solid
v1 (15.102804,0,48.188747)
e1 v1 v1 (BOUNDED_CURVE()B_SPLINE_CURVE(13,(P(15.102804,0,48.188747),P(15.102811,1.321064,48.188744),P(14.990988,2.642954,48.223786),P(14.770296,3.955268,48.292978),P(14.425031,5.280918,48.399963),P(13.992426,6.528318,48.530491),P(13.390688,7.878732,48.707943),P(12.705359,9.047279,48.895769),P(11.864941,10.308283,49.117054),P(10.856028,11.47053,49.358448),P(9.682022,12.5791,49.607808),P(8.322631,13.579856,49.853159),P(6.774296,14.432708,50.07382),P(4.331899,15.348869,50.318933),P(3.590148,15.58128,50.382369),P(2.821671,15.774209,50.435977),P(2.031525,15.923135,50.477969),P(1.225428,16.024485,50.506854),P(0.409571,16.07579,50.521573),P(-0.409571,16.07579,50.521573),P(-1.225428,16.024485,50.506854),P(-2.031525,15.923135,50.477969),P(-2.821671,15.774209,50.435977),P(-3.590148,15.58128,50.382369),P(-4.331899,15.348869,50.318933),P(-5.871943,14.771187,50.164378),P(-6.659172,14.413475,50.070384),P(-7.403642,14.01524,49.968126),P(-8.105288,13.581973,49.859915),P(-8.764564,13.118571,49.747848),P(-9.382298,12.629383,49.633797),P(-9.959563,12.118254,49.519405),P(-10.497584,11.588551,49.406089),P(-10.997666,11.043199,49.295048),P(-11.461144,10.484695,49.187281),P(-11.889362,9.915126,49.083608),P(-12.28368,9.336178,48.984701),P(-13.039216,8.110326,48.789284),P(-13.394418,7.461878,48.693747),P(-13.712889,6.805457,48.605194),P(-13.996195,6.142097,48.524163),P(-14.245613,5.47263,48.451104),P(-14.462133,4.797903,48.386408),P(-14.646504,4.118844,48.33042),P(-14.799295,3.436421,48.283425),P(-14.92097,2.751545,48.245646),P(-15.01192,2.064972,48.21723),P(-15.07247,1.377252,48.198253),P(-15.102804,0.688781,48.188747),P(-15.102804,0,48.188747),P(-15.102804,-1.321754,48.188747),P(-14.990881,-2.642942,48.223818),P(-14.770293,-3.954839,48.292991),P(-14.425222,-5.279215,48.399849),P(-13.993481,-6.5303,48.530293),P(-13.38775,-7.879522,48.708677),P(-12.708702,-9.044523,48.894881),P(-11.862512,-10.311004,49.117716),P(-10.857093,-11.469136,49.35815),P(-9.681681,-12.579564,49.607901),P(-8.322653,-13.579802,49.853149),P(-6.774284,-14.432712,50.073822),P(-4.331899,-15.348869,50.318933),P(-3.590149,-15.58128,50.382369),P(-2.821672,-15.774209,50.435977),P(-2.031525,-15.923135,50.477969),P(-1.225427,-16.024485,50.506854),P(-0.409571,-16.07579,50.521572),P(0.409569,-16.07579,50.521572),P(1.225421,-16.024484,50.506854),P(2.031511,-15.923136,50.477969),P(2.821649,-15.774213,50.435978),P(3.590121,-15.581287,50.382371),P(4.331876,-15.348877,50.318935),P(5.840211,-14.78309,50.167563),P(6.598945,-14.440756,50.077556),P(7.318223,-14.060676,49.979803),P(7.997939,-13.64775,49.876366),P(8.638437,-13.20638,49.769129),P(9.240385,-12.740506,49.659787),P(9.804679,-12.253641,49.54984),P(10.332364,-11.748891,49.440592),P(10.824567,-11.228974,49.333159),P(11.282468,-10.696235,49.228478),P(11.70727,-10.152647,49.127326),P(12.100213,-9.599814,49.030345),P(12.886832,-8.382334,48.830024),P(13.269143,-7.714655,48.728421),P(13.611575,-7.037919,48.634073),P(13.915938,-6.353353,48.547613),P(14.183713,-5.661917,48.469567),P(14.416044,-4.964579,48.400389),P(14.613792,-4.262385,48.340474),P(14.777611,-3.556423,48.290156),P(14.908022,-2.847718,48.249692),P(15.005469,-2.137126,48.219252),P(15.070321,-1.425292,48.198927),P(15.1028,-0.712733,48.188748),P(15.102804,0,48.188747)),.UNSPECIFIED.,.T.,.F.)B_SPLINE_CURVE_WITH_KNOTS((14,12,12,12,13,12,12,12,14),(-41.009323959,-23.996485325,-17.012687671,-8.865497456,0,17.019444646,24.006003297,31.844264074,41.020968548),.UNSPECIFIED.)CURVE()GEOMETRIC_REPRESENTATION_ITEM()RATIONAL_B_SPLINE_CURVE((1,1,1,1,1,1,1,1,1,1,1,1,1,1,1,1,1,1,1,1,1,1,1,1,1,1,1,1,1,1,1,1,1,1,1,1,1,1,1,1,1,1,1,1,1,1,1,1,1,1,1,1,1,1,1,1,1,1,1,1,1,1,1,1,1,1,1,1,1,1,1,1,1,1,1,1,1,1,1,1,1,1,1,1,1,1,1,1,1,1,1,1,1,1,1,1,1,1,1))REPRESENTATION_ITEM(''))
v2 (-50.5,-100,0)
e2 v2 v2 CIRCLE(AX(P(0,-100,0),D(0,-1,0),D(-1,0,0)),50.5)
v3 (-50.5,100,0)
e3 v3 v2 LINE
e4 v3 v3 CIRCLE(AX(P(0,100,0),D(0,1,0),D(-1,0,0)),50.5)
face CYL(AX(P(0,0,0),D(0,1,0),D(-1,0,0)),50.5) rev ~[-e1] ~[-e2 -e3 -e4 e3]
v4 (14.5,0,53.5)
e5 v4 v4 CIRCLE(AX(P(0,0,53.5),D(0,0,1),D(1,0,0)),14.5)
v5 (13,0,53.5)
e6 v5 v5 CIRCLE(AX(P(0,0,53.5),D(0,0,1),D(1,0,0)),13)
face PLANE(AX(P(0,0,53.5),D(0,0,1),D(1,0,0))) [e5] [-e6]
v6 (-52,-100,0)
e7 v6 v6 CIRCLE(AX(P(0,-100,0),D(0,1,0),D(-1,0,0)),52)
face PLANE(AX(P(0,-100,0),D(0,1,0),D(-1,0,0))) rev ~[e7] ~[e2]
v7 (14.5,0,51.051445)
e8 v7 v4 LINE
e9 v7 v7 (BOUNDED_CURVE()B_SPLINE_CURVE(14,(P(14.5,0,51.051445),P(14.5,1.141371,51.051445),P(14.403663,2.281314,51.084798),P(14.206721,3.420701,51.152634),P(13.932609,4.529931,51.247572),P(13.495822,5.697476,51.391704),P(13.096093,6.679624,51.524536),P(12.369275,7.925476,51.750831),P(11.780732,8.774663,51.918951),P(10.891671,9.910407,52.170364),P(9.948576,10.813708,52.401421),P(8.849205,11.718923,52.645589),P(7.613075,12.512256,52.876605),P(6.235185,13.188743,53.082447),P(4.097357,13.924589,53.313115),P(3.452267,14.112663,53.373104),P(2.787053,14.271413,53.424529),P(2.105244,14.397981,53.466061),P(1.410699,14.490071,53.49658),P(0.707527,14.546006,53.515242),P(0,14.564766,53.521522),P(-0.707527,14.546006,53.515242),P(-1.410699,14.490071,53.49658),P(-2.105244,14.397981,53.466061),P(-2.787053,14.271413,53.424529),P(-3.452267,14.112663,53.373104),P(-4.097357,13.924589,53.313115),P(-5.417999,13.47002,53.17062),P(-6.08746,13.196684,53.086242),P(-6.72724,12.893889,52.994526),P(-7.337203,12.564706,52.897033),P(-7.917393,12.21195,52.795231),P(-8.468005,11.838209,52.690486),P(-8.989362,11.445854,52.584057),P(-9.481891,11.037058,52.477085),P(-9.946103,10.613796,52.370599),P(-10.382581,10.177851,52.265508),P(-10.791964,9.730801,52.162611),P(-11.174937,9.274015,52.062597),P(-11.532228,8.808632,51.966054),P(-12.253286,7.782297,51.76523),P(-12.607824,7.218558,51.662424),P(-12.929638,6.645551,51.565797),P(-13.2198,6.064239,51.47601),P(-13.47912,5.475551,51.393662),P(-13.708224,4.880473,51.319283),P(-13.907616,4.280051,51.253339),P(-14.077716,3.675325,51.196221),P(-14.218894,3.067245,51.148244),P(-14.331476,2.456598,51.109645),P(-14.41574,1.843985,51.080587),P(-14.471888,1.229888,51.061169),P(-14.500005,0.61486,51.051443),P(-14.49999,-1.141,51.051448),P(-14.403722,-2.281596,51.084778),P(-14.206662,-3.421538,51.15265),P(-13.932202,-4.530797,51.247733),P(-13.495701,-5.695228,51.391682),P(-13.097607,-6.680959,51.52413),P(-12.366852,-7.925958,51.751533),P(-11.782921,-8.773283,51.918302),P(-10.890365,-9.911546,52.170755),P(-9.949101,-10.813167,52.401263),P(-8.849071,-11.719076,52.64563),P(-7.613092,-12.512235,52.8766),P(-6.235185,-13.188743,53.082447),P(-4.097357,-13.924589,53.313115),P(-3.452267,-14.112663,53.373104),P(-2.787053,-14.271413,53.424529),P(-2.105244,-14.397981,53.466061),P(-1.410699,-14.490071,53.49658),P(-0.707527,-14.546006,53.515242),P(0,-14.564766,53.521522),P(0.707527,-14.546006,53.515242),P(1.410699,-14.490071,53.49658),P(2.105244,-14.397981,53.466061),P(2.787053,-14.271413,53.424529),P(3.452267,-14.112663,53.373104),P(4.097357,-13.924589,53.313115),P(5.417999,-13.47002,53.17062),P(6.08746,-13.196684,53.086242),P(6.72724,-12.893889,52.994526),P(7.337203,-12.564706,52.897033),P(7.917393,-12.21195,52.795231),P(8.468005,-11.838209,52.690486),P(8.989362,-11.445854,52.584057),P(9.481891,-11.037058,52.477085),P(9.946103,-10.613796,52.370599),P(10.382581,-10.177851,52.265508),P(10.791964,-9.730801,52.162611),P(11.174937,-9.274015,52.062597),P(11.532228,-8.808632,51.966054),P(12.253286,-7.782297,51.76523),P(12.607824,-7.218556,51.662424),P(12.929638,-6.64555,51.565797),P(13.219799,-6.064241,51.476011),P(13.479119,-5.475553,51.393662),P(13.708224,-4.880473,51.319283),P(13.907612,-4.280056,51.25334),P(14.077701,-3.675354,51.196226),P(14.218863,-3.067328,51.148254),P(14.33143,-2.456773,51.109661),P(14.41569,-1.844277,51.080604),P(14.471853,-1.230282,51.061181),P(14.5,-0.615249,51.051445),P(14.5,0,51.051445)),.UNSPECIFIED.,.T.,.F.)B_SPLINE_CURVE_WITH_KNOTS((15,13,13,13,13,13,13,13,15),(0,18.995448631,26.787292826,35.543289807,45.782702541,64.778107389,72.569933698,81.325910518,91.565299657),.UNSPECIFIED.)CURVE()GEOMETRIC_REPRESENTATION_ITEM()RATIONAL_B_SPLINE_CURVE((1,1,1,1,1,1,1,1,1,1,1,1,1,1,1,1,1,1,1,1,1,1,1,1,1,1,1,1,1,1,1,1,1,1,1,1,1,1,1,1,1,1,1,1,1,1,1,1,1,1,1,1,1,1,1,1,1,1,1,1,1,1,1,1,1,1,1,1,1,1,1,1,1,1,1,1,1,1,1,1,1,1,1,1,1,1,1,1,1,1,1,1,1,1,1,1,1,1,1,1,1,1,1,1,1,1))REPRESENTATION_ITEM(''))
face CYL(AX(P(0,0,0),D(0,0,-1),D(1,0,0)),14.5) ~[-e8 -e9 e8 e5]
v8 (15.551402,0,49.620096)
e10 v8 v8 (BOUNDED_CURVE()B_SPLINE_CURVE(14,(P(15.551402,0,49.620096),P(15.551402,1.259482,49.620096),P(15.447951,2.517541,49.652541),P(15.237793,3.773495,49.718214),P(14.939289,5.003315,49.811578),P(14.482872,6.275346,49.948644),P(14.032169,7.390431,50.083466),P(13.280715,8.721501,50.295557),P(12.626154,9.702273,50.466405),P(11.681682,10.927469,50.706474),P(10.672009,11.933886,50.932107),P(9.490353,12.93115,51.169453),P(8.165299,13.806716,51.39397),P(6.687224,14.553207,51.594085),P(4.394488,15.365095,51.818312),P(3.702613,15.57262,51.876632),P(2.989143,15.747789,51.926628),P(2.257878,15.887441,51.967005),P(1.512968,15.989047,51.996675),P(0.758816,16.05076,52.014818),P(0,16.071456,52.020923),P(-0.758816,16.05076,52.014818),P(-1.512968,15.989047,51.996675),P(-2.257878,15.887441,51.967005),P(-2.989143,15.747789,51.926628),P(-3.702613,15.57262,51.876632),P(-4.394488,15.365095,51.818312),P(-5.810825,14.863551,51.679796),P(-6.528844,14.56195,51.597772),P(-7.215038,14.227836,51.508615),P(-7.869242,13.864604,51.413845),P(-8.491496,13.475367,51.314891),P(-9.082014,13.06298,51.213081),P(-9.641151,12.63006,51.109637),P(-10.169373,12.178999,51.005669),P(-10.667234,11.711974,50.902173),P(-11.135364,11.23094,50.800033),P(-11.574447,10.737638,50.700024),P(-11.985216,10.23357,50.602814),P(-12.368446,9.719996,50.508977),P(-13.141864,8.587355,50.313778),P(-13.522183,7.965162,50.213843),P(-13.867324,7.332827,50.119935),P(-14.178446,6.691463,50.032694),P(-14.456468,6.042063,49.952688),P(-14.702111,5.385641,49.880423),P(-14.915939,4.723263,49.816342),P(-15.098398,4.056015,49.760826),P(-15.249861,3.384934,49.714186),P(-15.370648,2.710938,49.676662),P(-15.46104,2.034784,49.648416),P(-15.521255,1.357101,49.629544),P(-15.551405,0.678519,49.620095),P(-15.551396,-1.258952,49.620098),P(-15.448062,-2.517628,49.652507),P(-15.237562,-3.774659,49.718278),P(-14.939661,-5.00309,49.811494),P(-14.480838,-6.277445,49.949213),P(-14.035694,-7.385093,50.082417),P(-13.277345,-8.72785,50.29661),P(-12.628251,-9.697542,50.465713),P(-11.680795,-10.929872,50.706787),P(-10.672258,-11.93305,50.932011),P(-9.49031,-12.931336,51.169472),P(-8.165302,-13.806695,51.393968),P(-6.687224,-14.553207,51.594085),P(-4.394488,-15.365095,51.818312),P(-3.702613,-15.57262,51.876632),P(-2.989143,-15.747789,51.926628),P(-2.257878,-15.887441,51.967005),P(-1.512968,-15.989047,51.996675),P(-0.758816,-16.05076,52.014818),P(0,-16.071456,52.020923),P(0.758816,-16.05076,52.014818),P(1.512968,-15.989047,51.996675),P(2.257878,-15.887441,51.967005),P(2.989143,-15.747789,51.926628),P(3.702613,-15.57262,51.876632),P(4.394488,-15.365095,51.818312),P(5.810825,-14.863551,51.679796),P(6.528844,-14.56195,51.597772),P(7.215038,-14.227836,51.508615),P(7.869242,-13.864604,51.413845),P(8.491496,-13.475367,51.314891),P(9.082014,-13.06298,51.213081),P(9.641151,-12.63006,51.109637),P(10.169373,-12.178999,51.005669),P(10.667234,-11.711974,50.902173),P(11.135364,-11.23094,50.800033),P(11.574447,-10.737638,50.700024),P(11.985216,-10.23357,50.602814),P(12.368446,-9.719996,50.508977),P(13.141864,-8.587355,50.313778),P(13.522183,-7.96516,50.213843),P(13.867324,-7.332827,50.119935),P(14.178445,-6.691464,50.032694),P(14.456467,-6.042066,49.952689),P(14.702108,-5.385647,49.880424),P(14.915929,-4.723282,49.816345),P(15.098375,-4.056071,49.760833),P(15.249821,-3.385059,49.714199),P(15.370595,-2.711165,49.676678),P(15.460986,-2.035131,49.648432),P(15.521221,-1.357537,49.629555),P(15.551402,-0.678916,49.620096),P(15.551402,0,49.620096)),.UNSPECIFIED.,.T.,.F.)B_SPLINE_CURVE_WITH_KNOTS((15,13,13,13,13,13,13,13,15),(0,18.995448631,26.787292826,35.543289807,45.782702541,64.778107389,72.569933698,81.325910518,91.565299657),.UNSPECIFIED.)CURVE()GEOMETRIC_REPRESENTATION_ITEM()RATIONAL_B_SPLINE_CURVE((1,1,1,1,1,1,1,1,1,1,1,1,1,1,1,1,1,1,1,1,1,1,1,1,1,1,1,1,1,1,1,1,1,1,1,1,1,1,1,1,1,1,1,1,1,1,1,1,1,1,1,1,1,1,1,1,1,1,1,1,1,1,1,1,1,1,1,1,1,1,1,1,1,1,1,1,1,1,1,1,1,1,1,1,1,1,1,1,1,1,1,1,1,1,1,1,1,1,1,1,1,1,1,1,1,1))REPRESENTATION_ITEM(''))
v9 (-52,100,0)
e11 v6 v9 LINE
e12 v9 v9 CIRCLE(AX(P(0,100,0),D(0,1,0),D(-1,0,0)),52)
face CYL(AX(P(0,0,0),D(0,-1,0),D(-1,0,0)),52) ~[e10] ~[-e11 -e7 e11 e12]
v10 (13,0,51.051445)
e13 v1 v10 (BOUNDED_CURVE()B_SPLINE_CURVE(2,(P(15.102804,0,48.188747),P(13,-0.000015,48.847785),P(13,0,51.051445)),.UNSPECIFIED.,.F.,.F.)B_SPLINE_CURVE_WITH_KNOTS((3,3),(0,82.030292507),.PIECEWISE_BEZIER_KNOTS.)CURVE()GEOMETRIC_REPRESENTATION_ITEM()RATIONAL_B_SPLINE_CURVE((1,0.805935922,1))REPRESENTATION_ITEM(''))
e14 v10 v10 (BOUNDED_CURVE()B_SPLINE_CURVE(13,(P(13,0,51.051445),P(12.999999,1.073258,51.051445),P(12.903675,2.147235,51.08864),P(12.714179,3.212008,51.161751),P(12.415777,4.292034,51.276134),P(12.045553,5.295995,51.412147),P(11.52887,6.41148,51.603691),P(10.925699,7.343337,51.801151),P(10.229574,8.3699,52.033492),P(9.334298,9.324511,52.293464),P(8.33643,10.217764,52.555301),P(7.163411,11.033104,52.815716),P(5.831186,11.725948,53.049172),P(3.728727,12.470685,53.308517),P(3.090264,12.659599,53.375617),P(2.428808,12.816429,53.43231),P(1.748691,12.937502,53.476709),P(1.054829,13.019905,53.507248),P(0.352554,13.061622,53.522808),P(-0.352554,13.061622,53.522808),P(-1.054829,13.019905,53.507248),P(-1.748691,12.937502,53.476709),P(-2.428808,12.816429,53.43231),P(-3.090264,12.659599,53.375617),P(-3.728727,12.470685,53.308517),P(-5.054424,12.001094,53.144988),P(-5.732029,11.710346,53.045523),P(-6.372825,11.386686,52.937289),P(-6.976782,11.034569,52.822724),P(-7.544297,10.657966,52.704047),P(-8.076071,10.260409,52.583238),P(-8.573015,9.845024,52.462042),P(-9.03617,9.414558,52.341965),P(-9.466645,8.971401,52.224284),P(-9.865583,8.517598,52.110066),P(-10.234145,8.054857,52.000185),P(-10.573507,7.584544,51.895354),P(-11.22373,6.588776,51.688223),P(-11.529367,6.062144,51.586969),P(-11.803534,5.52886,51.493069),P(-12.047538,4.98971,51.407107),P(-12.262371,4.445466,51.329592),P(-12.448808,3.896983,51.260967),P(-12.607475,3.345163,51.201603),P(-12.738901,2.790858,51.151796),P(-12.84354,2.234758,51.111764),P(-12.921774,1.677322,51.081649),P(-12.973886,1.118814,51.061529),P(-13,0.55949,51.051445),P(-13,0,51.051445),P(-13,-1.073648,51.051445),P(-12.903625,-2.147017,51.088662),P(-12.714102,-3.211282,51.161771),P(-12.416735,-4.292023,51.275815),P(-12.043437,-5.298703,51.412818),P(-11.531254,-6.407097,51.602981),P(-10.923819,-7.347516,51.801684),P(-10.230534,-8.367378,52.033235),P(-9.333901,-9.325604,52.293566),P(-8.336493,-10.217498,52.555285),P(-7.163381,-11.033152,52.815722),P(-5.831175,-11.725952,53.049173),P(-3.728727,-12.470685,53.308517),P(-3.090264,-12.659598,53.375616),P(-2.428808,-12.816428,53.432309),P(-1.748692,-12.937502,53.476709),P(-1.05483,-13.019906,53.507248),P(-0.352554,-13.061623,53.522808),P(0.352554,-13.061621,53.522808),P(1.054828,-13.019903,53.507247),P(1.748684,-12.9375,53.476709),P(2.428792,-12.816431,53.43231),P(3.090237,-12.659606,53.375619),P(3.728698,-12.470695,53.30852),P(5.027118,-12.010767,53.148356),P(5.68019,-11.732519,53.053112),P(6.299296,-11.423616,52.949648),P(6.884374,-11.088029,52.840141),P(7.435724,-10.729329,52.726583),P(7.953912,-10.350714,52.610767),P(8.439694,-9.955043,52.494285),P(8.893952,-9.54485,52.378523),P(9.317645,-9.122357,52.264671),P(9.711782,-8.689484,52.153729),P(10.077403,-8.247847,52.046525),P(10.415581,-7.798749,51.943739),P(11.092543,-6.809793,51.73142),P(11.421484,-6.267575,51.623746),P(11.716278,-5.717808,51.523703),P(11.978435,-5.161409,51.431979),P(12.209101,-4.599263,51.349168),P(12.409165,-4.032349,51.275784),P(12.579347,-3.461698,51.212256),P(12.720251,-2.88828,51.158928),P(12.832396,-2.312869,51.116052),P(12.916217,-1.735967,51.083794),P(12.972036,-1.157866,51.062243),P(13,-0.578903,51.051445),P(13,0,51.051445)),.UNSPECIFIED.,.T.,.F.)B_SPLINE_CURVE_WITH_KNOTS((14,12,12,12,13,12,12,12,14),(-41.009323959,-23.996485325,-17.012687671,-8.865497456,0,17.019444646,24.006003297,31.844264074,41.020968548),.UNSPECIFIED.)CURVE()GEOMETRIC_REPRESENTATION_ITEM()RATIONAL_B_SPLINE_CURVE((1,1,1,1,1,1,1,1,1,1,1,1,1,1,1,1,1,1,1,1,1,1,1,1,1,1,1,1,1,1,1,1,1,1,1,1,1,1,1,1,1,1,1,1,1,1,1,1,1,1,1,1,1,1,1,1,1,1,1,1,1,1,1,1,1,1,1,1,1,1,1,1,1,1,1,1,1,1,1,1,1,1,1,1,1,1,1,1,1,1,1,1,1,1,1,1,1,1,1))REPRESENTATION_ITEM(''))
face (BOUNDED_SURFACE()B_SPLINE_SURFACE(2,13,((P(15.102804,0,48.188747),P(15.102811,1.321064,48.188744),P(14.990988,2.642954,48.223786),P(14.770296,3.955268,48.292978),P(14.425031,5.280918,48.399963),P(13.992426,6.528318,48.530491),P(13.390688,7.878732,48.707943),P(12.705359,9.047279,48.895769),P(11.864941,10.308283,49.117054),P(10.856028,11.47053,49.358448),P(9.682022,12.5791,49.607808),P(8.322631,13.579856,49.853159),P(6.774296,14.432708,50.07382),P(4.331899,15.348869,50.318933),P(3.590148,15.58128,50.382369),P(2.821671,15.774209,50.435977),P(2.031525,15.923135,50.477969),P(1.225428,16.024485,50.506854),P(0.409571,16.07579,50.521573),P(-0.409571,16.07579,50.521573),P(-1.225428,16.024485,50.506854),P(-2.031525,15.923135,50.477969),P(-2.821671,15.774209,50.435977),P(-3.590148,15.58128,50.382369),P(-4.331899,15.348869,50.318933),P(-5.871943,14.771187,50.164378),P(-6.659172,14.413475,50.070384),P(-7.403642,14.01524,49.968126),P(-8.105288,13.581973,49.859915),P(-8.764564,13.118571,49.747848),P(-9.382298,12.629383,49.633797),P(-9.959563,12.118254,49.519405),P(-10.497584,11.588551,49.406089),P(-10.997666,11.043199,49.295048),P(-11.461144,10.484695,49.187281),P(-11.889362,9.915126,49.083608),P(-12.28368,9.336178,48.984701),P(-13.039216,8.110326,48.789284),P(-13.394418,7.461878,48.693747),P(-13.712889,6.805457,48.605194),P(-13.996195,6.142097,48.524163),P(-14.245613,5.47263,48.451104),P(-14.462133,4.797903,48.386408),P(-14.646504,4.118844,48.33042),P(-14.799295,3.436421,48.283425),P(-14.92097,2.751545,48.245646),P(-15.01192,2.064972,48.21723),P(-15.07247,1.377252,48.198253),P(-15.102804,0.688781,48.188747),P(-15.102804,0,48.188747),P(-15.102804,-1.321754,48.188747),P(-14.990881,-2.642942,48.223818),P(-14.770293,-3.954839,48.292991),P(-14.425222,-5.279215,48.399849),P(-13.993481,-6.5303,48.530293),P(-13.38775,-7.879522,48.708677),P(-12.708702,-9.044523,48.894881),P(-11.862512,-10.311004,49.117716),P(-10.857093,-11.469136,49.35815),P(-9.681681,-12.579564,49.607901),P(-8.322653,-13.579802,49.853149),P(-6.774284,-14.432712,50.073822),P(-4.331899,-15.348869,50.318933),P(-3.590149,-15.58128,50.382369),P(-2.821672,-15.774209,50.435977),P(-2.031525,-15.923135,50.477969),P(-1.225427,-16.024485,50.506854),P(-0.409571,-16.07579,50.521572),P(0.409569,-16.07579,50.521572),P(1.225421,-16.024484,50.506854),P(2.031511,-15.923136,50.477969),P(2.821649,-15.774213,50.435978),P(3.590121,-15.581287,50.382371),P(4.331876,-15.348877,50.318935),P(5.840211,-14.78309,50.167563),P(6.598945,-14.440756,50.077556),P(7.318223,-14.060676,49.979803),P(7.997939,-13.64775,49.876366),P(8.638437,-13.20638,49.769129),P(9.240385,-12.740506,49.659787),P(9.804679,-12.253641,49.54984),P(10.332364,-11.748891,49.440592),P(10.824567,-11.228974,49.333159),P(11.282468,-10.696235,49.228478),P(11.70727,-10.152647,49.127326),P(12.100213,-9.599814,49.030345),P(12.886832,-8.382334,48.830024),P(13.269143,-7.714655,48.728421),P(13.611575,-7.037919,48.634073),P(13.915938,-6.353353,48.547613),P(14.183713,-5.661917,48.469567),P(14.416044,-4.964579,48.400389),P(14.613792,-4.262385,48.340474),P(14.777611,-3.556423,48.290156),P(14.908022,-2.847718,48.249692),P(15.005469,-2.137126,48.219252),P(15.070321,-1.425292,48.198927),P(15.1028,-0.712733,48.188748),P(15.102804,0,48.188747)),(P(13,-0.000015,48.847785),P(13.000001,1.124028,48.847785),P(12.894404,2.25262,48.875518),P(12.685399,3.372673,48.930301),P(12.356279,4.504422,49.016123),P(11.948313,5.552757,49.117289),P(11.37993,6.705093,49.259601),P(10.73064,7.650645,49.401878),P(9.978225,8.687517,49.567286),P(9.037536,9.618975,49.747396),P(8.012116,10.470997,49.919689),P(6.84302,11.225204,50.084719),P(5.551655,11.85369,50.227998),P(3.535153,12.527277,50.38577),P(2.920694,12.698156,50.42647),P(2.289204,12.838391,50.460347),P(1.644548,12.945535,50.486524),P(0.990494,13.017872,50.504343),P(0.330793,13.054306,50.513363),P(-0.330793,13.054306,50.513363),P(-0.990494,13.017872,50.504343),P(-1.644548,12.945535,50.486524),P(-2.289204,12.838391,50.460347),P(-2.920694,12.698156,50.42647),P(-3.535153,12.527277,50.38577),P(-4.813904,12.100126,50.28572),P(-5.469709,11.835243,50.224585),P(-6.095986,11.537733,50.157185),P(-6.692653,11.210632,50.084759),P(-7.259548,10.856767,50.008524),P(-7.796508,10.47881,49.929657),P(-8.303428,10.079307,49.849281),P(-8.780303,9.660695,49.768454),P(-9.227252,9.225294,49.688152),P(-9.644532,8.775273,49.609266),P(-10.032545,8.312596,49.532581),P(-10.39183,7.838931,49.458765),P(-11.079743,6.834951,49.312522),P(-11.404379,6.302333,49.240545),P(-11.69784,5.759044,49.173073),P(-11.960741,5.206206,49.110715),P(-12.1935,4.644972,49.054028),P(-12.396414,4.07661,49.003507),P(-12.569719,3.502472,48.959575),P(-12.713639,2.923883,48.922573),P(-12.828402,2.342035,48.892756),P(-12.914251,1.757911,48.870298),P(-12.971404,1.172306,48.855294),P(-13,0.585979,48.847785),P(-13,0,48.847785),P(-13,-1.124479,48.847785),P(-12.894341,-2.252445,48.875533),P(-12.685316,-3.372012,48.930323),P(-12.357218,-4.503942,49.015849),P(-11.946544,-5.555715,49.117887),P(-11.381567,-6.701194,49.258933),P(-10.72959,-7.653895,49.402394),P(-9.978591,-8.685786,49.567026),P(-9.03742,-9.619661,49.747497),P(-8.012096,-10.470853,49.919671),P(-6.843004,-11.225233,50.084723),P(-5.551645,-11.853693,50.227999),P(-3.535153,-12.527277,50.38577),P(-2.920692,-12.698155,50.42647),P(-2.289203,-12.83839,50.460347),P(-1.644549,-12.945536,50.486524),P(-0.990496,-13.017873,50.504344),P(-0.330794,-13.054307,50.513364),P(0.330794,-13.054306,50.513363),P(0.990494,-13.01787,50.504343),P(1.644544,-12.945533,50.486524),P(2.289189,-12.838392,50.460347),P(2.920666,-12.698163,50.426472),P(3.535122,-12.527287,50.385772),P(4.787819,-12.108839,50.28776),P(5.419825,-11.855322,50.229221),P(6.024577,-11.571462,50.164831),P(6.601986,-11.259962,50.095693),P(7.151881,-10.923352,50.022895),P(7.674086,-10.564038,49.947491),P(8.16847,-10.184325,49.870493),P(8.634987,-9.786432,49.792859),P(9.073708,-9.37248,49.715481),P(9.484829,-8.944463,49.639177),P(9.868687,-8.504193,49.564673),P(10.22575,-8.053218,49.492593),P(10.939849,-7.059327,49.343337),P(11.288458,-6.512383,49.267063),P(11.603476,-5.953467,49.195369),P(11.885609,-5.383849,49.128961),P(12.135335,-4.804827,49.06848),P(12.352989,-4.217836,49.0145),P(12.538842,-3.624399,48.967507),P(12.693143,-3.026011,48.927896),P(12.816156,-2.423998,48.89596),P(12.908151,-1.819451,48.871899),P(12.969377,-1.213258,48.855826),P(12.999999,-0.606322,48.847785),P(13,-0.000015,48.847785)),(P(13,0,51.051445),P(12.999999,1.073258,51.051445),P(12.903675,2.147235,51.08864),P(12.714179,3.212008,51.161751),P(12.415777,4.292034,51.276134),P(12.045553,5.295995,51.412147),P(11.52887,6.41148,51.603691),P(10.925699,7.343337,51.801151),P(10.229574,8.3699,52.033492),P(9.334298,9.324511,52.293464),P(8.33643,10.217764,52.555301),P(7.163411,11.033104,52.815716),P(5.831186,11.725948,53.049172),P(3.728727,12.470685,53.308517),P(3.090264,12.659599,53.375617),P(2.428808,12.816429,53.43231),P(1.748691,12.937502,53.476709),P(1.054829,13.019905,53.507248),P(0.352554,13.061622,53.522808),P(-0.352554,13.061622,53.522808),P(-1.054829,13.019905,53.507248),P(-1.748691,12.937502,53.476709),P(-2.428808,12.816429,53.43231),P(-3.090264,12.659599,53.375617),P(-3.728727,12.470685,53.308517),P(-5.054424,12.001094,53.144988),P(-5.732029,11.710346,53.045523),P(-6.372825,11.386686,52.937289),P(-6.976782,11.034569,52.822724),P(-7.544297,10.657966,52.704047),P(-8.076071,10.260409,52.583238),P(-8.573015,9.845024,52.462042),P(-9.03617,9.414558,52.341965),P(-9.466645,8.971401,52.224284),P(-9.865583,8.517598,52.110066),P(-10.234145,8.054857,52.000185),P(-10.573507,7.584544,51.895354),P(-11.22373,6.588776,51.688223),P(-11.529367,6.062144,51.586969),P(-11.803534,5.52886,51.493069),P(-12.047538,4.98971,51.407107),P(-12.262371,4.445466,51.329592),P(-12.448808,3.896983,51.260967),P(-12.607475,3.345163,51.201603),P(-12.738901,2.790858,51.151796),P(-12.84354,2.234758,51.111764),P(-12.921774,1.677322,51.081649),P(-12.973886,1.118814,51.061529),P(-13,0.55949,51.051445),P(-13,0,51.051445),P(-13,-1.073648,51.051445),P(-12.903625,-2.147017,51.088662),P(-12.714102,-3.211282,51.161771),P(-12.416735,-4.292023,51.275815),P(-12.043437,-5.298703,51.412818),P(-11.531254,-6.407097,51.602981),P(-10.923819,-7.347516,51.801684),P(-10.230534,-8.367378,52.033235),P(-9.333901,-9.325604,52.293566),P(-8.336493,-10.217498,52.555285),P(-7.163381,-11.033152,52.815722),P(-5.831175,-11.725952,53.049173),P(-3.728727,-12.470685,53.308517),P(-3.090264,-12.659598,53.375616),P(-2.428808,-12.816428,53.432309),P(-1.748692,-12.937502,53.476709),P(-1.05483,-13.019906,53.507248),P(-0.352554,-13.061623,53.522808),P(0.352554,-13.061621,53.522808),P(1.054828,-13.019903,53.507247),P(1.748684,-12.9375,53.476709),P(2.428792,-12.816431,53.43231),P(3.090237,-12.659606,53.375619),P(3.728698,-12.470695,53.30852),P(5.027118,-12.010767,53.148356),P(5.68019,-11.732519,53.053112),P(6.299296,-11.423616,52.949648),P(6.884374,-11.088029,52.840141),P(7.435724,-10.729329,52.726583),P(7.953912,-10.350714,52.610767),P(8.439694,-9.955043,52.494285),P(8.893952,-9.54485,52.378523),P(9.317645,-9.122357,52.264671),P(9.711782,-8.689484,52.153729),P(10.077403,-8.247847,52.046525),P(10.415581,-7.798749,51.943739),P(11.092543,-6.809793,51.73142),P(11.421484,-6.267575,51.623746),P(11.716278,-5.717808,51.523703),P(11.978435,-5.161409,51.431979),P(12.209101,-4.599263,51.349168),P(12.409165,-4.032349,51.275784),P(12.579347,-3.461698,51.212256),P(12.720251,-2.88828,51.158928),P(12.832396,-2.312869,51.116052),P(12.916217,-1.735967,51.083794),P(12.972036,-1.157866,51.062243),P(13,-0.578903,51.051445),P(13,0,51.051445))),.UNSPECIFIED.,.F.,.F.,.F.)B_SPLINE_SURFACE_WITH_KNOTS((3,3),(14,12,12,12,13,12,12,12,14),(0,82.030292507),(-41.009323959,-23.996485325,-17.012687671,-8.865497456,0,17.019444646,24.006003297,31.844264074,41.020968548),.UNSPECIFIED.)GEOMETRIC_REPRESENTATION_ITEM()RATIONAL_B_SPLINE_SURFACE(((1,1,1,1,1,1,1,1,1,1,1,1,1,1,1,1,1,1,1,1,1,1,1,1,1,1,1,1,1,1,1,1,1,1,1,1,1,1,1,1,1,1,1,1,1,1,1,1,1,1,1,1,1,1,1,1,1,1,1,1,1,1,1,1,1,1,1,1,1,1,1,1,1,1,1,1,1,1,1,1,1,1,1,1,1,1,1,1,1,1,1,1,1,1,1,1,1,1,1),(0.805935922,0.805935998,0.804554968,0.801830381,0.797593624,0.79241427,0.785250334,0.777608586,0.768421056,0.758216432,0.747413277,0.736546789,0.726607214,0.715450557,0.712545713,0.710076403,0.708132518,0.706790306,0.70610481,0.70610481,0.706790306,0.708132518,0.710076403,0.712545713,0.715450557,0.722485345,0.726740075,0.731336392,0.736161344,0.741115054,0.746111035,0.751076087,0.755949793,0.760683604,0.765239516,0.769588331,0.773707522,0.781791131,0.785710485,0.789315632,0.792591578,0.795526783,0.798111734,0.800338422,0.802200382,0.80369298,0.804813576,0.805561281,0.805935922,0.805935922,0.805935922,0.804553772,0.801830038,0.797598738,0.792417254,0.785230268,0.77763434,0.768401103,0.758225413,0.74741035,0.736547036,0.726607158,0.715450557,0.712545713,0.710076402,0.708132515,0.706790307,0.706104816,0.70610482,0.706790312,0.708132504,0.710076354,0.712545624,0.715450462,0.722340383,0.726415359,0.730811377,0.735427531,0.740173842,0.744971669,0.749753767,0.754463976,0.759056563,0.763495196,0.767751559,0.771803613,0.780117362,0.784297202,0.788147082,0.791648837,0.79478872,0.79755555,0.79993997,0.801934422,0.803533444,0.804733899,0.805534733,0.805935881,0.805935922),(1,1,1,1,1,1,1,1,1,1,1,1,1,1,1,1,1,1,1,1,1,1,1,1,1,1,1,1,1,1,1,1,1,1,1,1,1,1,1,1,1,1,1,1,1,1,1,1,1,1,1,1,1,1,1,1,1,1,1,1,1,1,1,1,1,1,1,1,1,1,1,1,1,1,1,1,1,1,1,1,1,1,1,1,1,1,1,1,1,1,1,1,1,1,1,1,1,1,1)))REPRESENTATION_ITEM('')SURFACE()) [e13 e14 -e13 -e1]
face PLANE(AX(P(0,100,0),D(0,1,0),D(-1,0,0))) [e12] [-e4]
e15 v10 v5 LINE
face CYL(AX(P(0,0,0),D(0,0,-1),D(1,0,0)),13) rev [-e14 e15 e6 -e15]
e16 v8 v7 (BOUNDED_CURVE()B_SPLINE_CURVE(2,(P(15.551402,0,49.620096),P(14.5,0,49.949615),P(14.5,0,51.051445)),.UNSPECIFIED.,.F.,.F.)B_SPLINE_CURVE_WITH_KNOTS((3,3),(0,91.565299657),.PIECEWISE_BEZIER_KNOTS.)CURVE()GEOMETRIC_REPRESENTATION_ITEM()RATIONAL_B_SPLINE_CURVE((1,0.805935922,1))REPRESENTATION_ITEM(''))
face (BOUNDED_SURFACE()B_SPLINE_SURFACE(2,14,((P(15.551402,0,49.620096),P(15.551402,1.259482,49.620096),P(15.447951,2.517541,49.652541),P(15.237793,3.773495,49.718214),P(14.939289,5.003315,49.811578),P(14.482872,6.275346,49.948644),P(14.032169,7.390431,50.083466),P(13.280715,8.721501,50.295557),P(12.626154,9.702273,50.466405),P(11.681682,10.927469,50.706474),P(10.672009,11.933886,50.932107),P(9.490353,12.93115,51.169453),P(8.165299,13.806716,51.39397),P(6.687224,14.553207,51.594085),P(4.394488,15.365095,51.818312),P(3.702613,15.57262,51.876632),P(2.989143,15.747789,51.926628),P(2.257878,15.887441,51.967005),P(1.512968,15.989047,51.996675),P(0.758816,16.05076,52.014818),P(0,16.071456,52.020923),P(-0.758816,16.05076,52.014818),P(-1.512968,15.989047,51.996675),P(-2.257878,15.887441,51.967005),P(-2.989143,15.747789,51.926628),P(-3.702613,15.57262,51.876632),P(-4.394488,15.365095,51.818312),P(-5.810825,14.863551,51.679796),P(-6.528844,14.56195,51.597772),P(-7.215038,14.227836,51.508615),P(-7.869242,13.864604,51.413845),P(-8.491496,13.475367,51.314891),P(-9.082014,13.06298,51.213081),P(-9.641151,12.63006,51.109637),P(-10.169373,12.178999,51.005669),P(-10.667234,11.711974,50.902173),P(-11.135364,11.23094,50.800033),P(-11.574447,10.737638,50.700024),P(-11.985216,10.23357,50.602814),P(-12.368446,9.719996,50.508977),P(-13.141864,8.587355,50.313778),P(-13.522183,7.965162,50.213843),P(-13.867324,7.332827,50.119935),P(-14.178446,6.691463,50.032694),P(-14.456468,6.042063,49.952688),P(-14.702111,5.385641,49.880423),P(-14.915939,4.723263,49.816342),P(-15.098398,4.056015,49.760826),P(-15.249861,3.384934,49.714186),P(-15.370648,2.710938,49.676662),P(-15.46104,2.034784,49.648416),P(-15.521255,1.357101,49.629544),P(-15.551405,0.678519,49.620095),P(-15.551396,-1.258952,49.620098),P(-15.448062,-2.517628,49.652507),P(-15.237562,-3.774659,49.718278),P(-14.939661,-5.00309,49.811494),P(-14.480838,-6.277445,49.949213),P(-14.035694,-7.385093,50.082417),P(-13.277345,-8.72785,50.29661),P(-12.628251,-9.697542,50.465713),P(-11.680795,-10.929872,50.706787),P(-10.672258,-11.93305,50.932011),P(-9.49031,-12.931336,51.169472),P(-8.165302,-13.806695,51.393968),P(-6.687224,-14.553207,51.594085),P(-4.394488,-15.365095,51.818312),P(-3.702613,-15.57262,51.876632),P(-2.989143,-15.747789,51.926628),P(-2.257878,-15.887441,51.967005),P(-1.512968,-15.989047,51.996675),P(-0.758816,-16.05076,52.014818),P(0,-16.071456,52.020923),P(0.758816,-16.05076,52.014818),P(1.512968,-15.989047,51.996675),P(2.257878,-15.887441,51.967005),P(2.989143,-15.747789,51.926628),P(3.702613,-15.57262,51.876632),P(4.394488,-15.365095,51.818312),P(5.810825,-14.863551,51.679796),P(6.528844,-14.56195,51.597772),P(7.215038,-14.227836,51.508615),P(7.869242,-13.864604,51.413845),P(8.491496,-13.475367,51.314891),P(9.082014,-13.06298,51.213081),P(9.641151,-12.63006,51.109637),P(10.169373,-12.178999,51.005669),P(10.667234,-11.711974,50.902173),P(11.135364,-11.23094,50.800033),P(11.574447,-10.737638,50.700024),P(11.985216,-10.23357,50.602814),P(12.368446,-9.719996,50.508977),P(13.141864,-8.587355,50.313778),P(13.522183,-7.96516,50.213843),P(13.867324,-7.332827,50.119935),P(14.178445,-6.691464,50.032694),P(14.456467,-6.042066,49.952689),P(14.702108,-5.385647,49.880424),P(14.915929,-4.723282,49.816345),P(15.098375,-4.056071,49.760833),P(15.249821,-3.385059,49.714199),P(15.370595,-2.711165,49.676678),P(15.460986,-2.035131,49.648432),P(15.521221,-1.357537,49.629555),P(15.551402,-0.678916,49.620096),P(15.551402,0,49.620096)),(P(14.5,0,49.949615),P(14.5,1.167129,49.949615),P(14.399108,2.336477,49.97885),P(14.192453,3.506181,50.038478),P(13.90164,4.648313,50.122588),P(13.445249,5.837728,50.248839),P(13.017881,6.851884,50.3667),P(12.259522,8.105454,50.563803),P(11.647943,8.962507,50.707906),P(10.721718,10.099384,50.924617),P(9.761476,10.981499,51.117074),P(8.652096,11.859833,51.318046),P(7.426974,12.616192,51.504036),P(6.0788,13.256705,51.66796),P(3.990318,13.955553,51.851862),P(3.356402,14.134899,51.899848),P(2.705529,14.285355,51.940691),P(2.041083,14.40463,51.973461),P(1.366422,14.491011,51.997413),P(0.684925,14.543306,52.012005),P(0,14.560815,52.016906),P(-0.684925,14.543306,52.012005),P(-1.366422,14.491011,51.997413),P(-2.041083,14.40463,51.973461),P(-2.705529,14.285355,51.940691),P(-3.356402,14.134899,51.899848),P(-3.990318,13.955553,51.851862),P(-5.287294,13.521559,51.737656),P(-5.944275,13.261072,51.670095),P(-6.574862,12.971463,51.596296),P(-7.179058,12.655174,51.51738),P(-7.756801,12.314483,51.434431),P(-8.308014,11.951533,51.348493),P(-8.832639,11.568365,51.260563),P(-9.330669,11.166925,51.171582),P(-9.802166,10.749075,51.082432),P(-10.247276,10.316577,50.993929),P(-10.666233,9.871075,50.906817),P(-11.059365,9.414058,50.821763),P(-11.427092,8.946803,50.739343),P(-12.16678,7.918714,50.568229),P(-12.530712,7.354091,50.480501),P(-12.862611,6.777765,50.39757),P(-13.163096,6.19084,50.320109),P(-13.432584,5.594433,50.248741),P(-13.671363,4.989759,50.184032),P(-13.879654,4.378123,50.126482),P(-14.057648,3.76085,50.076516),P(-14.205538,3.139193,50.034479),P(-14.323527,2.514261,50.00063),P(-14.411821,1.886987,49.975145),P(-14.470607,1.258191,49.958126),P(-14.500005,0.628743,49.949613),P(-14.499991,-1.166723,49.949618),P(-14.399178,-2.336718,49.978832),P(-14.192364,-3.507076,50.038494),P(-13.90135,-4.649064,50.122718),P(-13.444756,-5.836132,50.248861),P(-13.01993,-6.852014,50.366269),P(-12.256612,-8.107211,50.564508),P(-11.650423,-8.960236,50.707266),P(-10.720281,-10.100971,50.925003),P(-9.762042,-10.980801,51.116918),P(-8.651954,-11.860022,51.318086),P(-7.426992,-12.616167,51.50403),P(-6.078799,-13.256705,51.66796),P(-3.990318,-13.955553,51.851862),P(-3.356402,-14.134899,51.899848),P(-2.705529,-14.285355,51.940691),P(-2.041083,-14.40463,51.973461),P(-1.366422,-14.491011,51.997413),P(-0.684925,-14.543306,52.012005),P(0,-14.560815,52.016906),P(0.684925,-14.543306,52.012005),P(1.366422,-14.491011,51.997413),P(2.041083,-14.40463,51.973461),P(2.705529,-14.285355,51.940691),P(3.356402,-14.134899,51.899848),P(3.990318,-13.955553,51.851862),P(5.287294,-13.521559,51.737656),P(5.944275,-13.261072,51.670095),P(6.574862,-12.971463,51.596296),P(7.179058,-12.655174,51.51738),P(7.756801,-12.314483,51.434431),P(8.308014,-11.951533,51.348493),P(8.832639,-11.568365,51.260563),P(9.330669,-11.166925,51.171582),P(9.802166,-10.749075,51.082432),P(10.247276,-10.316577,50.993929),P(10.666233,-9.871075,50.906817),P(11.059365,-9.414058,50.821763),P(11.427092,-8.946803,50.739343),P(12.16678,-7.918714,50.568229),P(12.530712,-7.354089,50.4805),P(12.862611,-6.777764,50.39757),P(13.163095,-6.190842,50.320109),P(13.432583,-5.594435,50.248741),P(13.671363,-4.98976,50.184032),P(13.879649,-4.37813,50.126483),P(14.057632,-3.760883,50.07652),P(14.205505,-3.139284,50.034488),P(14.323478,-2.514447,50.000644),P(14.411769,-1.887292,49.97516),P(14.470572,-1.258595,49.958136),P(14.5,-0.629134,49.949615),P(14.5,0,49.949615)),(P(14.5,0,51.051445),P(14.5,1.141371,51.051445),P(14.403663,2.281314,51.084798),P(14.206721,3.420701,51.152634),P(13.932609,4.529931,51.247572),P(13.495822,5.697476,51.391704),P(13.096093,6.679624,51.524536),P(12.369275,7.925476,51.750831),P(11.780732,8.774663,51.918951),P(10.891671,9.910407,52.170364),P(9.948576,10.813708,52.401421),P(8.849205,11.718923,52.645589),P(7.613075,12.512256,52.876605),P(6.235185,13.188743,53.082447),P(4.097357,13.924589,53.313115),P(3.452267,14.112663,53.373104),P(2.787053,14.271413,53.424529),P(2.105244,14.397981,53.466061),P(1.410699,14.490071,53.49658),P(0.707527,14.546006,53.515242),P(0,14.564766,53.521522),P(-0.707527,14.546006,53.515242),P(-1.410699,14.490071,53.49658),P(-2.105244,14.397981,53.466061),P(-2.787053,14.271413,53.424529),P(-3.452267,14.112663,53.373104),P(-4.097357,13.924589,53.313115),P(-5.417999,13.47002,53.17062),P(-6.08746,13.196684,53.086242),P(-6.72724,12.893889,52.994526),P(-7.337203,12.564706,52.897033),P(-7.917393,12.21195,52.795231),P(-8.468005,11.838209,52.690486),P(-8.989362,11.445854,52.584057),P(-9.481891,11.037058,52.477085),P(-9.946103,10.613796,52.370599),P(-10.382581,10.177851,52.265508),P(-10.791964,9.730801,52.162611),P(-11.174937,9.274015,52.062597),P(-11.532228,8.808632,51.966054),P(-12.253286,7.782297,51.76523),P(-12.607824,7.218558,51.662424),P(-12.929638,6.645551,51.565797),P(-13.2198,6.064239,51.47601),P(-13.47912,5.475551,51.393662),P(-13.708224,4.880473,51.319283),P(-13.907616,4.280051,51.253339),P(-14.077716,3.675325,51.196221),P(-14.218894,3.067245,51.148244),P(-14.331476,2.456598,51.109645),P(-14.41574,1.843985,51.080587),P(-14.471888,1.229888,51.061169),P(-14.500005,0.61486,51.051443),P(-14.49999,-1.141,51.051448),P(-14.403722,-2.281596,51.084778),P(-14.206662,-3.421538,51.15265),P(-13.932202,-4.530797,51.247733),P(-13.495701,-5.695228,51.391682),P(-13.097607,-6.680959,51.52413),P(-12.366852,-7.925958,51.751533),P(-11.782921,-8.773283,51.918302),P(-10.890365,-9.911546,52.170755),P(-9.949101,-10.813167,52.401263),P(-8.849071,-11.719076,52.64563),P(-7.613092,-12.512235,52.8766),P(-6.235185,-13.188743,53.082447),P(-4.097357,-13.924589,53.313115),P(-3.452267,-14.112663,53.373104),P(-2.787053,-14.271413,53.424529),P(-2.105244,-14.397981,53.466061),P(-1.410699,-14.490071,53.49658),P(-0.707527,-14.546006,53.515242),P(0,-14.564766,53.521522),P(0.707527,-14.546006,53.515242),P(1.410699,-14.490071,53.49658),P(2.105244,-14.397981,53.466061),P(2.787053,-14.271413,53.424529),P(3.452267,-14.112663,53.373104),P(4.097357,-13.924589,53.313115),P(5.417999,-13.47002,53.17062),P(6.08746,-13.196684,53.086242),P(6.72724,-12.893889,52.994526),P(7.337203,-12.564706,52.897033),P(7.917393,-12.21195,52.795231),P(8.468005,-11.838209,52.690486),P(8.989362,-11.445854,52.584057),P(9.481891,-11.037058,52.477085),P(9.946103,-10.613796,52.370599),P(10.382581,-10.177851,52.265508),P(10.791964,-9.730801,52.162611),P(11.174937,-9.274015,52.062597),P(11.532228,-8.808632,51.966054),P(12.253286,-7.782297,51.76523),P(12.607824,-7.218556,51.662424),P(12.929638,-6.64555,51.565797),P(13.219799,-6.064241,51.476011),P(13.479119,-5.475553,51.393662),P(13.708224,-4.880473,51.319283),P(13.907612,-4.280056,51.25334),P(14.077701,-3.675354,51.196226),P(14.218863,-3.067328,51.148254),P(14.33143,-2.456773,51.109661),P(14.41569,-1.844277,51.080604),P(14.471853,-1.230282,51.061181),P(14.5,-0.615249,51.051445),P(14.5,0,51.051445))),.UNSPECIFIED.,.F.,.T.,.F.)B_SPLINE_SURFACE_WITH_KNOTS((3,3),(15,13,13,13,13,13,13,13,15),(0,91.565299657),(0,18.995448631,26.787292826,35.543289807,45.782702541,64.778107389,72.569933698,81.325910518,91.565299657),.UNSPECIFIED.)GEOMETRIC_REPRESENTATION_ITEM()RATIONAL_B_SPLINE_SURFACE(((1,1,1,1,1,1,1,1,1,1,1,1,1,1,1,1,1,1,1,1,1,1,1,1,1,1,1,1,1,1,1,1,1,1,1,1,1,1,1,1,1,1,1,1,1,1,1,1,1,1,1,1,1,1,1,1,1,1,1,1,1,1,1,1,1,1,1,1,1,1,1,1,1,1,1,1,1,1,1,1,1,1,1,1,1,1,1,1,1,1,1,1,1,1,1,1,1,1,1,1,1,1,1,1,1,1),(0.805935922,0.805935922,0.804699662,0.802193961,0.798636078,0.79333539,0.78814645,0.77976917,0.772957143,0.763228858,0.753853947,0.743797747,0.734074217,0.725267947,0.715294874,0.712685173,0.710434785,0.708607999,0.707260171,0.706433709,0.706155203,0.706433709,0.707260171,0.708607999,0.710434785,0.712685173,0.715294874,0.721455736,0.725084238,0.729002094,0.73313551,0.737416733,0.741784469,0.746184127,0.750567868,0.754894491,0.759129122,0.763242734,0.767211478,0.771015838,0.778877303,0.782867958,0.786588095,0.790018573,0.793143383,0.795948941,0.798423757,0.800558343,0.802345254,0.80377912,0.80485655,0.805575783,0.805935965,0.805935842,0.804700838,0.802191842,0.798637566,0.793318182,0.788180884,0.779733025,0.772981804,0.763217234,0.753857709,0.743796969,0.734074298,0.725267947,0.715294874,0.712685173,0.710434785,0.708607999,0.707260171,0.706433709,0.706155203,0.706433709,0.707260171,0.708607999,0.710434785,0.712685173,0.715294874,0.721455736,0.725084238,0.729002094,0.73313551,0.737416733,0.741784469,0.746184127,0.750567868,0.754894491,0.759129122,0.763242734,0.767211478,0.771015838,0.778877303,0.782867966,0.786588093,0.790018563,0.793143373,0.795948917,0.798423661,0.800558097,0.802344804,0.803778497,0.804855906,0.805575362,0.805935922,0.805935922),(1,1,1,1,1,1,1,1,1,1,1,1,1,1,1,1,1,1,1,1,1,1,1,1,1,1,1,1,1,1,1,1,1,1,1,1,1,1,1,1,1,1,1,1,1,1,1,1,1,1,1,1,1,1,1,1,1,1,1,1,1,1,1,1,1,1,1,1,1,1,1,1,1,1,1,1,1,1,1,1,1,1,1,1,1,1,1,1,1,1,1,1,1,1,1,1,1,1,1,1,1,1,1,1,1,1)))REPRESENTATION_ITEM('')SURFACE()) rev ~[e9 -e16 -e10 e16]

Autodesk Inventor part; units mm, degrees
ref_plane "YZ Plane" through (0, 0, 0) normal (1, 0, 0) x (0, 1, 0)
ref_plane "XZ Plane" through (0, 0, 0) normal (0, 1, 0) x (-1, 0, 0)
ref_plane "XY Plane" through (0, 0, 0) normal (0, 0, 1) x (1, 0, 0)
sketch "Szkic8" plane through (0, 0, 0) normal (0, 1, 0) x (-1, 0, 0)
  circle A0 centre (0, 0) radius 52
  circle A1 centre (0, 0) radius 50.5
  dimension "d53" = 104
  dimension "d54" = 1.5
extrude "Wyciągnięcie proste2" add sketch "Szkic8" along normal mid plane 200
sketch "Szkic13" plane through (0, 0, 0) normal (0, 0, 1) x (1, 0, 0)
  circle A0 centre (0, 0) radius 14.5
  circle A1 centre (0, 0) radius 13
  dimension "d67" = 29
  dimension "d68" = 1.5
extrude "Wyciągnięcie proste6" add sketch "Szkic13" along normal blind 53.5
sketch "Szkic14" plane through (0, 0, 53.5) normal (0, 0, 1) x (1, 0, 0)
  circle A0 centre (0, 0) radius 13 projected
extrude "Wyciągnięcie proste7" cut sketch "Szkic14" against normal blind 53.5
sketch "Szkic15" plane through (0, -100, 0) normal (0, -1, 0) x (1, 0, 0)
  circle A0 centre (0, 0) radius 50.5 projected
extrude "Wyciągnięcie proste8" cut sketch "Szkic15" against normal blind 200
fillet "Zaokrąglenie3" radius 1.5 2 edges at (0, 14.5, 52) (0, -14.5, 52)
fillet "Zaokrąglenie4" radius 3 2 edges at (-0.0027, -13, 50.5) (0, 13, 50.5)
equation "\"d53\" = OD"
equation "\"d54\" = THK"
equation "\"d55\" = L1"
equation "\"d67\" = OD2"
equation "\"d68\" = THK"
equation "\"d69\" = L2"
equation "\"d71\" = L2"
equation "\"d73\" = L1"
equation "\"d75\" = THK"
equation "\"d76\" = 2 * THK"
equation "\"SzerokośćGięciaPodcięcia\" = Grubość"
equation "\"RozmiarPodcięciaNarożnika\" = 4 * Grubość"
equation "\"PromieńPrzejścia\" = PromieńGięcia"
equation "\"Rozmiar_promienia_Jacobiego\" = PromieńGięcia"
equation "\"Wielk_odstępu\" = Grubość"
equation "\"d2\" = PromieńGięcia"
equation "\"d23\" = PromieńGięcia"
equation "\"OD\" = 104"
equation "\"THK\" = 1.5"
equation "\"L1\" = 200"
equation "\"L2\" = 53.5"
equation "\"OD2\" = 29"
equation "\"Grubość\" = 1.5"
equation "\"PromieńGięcia\" = 3"
properties part number "Trójnik red. krótki  Ø104 29 104 s=1,5 L=200" material "304"
